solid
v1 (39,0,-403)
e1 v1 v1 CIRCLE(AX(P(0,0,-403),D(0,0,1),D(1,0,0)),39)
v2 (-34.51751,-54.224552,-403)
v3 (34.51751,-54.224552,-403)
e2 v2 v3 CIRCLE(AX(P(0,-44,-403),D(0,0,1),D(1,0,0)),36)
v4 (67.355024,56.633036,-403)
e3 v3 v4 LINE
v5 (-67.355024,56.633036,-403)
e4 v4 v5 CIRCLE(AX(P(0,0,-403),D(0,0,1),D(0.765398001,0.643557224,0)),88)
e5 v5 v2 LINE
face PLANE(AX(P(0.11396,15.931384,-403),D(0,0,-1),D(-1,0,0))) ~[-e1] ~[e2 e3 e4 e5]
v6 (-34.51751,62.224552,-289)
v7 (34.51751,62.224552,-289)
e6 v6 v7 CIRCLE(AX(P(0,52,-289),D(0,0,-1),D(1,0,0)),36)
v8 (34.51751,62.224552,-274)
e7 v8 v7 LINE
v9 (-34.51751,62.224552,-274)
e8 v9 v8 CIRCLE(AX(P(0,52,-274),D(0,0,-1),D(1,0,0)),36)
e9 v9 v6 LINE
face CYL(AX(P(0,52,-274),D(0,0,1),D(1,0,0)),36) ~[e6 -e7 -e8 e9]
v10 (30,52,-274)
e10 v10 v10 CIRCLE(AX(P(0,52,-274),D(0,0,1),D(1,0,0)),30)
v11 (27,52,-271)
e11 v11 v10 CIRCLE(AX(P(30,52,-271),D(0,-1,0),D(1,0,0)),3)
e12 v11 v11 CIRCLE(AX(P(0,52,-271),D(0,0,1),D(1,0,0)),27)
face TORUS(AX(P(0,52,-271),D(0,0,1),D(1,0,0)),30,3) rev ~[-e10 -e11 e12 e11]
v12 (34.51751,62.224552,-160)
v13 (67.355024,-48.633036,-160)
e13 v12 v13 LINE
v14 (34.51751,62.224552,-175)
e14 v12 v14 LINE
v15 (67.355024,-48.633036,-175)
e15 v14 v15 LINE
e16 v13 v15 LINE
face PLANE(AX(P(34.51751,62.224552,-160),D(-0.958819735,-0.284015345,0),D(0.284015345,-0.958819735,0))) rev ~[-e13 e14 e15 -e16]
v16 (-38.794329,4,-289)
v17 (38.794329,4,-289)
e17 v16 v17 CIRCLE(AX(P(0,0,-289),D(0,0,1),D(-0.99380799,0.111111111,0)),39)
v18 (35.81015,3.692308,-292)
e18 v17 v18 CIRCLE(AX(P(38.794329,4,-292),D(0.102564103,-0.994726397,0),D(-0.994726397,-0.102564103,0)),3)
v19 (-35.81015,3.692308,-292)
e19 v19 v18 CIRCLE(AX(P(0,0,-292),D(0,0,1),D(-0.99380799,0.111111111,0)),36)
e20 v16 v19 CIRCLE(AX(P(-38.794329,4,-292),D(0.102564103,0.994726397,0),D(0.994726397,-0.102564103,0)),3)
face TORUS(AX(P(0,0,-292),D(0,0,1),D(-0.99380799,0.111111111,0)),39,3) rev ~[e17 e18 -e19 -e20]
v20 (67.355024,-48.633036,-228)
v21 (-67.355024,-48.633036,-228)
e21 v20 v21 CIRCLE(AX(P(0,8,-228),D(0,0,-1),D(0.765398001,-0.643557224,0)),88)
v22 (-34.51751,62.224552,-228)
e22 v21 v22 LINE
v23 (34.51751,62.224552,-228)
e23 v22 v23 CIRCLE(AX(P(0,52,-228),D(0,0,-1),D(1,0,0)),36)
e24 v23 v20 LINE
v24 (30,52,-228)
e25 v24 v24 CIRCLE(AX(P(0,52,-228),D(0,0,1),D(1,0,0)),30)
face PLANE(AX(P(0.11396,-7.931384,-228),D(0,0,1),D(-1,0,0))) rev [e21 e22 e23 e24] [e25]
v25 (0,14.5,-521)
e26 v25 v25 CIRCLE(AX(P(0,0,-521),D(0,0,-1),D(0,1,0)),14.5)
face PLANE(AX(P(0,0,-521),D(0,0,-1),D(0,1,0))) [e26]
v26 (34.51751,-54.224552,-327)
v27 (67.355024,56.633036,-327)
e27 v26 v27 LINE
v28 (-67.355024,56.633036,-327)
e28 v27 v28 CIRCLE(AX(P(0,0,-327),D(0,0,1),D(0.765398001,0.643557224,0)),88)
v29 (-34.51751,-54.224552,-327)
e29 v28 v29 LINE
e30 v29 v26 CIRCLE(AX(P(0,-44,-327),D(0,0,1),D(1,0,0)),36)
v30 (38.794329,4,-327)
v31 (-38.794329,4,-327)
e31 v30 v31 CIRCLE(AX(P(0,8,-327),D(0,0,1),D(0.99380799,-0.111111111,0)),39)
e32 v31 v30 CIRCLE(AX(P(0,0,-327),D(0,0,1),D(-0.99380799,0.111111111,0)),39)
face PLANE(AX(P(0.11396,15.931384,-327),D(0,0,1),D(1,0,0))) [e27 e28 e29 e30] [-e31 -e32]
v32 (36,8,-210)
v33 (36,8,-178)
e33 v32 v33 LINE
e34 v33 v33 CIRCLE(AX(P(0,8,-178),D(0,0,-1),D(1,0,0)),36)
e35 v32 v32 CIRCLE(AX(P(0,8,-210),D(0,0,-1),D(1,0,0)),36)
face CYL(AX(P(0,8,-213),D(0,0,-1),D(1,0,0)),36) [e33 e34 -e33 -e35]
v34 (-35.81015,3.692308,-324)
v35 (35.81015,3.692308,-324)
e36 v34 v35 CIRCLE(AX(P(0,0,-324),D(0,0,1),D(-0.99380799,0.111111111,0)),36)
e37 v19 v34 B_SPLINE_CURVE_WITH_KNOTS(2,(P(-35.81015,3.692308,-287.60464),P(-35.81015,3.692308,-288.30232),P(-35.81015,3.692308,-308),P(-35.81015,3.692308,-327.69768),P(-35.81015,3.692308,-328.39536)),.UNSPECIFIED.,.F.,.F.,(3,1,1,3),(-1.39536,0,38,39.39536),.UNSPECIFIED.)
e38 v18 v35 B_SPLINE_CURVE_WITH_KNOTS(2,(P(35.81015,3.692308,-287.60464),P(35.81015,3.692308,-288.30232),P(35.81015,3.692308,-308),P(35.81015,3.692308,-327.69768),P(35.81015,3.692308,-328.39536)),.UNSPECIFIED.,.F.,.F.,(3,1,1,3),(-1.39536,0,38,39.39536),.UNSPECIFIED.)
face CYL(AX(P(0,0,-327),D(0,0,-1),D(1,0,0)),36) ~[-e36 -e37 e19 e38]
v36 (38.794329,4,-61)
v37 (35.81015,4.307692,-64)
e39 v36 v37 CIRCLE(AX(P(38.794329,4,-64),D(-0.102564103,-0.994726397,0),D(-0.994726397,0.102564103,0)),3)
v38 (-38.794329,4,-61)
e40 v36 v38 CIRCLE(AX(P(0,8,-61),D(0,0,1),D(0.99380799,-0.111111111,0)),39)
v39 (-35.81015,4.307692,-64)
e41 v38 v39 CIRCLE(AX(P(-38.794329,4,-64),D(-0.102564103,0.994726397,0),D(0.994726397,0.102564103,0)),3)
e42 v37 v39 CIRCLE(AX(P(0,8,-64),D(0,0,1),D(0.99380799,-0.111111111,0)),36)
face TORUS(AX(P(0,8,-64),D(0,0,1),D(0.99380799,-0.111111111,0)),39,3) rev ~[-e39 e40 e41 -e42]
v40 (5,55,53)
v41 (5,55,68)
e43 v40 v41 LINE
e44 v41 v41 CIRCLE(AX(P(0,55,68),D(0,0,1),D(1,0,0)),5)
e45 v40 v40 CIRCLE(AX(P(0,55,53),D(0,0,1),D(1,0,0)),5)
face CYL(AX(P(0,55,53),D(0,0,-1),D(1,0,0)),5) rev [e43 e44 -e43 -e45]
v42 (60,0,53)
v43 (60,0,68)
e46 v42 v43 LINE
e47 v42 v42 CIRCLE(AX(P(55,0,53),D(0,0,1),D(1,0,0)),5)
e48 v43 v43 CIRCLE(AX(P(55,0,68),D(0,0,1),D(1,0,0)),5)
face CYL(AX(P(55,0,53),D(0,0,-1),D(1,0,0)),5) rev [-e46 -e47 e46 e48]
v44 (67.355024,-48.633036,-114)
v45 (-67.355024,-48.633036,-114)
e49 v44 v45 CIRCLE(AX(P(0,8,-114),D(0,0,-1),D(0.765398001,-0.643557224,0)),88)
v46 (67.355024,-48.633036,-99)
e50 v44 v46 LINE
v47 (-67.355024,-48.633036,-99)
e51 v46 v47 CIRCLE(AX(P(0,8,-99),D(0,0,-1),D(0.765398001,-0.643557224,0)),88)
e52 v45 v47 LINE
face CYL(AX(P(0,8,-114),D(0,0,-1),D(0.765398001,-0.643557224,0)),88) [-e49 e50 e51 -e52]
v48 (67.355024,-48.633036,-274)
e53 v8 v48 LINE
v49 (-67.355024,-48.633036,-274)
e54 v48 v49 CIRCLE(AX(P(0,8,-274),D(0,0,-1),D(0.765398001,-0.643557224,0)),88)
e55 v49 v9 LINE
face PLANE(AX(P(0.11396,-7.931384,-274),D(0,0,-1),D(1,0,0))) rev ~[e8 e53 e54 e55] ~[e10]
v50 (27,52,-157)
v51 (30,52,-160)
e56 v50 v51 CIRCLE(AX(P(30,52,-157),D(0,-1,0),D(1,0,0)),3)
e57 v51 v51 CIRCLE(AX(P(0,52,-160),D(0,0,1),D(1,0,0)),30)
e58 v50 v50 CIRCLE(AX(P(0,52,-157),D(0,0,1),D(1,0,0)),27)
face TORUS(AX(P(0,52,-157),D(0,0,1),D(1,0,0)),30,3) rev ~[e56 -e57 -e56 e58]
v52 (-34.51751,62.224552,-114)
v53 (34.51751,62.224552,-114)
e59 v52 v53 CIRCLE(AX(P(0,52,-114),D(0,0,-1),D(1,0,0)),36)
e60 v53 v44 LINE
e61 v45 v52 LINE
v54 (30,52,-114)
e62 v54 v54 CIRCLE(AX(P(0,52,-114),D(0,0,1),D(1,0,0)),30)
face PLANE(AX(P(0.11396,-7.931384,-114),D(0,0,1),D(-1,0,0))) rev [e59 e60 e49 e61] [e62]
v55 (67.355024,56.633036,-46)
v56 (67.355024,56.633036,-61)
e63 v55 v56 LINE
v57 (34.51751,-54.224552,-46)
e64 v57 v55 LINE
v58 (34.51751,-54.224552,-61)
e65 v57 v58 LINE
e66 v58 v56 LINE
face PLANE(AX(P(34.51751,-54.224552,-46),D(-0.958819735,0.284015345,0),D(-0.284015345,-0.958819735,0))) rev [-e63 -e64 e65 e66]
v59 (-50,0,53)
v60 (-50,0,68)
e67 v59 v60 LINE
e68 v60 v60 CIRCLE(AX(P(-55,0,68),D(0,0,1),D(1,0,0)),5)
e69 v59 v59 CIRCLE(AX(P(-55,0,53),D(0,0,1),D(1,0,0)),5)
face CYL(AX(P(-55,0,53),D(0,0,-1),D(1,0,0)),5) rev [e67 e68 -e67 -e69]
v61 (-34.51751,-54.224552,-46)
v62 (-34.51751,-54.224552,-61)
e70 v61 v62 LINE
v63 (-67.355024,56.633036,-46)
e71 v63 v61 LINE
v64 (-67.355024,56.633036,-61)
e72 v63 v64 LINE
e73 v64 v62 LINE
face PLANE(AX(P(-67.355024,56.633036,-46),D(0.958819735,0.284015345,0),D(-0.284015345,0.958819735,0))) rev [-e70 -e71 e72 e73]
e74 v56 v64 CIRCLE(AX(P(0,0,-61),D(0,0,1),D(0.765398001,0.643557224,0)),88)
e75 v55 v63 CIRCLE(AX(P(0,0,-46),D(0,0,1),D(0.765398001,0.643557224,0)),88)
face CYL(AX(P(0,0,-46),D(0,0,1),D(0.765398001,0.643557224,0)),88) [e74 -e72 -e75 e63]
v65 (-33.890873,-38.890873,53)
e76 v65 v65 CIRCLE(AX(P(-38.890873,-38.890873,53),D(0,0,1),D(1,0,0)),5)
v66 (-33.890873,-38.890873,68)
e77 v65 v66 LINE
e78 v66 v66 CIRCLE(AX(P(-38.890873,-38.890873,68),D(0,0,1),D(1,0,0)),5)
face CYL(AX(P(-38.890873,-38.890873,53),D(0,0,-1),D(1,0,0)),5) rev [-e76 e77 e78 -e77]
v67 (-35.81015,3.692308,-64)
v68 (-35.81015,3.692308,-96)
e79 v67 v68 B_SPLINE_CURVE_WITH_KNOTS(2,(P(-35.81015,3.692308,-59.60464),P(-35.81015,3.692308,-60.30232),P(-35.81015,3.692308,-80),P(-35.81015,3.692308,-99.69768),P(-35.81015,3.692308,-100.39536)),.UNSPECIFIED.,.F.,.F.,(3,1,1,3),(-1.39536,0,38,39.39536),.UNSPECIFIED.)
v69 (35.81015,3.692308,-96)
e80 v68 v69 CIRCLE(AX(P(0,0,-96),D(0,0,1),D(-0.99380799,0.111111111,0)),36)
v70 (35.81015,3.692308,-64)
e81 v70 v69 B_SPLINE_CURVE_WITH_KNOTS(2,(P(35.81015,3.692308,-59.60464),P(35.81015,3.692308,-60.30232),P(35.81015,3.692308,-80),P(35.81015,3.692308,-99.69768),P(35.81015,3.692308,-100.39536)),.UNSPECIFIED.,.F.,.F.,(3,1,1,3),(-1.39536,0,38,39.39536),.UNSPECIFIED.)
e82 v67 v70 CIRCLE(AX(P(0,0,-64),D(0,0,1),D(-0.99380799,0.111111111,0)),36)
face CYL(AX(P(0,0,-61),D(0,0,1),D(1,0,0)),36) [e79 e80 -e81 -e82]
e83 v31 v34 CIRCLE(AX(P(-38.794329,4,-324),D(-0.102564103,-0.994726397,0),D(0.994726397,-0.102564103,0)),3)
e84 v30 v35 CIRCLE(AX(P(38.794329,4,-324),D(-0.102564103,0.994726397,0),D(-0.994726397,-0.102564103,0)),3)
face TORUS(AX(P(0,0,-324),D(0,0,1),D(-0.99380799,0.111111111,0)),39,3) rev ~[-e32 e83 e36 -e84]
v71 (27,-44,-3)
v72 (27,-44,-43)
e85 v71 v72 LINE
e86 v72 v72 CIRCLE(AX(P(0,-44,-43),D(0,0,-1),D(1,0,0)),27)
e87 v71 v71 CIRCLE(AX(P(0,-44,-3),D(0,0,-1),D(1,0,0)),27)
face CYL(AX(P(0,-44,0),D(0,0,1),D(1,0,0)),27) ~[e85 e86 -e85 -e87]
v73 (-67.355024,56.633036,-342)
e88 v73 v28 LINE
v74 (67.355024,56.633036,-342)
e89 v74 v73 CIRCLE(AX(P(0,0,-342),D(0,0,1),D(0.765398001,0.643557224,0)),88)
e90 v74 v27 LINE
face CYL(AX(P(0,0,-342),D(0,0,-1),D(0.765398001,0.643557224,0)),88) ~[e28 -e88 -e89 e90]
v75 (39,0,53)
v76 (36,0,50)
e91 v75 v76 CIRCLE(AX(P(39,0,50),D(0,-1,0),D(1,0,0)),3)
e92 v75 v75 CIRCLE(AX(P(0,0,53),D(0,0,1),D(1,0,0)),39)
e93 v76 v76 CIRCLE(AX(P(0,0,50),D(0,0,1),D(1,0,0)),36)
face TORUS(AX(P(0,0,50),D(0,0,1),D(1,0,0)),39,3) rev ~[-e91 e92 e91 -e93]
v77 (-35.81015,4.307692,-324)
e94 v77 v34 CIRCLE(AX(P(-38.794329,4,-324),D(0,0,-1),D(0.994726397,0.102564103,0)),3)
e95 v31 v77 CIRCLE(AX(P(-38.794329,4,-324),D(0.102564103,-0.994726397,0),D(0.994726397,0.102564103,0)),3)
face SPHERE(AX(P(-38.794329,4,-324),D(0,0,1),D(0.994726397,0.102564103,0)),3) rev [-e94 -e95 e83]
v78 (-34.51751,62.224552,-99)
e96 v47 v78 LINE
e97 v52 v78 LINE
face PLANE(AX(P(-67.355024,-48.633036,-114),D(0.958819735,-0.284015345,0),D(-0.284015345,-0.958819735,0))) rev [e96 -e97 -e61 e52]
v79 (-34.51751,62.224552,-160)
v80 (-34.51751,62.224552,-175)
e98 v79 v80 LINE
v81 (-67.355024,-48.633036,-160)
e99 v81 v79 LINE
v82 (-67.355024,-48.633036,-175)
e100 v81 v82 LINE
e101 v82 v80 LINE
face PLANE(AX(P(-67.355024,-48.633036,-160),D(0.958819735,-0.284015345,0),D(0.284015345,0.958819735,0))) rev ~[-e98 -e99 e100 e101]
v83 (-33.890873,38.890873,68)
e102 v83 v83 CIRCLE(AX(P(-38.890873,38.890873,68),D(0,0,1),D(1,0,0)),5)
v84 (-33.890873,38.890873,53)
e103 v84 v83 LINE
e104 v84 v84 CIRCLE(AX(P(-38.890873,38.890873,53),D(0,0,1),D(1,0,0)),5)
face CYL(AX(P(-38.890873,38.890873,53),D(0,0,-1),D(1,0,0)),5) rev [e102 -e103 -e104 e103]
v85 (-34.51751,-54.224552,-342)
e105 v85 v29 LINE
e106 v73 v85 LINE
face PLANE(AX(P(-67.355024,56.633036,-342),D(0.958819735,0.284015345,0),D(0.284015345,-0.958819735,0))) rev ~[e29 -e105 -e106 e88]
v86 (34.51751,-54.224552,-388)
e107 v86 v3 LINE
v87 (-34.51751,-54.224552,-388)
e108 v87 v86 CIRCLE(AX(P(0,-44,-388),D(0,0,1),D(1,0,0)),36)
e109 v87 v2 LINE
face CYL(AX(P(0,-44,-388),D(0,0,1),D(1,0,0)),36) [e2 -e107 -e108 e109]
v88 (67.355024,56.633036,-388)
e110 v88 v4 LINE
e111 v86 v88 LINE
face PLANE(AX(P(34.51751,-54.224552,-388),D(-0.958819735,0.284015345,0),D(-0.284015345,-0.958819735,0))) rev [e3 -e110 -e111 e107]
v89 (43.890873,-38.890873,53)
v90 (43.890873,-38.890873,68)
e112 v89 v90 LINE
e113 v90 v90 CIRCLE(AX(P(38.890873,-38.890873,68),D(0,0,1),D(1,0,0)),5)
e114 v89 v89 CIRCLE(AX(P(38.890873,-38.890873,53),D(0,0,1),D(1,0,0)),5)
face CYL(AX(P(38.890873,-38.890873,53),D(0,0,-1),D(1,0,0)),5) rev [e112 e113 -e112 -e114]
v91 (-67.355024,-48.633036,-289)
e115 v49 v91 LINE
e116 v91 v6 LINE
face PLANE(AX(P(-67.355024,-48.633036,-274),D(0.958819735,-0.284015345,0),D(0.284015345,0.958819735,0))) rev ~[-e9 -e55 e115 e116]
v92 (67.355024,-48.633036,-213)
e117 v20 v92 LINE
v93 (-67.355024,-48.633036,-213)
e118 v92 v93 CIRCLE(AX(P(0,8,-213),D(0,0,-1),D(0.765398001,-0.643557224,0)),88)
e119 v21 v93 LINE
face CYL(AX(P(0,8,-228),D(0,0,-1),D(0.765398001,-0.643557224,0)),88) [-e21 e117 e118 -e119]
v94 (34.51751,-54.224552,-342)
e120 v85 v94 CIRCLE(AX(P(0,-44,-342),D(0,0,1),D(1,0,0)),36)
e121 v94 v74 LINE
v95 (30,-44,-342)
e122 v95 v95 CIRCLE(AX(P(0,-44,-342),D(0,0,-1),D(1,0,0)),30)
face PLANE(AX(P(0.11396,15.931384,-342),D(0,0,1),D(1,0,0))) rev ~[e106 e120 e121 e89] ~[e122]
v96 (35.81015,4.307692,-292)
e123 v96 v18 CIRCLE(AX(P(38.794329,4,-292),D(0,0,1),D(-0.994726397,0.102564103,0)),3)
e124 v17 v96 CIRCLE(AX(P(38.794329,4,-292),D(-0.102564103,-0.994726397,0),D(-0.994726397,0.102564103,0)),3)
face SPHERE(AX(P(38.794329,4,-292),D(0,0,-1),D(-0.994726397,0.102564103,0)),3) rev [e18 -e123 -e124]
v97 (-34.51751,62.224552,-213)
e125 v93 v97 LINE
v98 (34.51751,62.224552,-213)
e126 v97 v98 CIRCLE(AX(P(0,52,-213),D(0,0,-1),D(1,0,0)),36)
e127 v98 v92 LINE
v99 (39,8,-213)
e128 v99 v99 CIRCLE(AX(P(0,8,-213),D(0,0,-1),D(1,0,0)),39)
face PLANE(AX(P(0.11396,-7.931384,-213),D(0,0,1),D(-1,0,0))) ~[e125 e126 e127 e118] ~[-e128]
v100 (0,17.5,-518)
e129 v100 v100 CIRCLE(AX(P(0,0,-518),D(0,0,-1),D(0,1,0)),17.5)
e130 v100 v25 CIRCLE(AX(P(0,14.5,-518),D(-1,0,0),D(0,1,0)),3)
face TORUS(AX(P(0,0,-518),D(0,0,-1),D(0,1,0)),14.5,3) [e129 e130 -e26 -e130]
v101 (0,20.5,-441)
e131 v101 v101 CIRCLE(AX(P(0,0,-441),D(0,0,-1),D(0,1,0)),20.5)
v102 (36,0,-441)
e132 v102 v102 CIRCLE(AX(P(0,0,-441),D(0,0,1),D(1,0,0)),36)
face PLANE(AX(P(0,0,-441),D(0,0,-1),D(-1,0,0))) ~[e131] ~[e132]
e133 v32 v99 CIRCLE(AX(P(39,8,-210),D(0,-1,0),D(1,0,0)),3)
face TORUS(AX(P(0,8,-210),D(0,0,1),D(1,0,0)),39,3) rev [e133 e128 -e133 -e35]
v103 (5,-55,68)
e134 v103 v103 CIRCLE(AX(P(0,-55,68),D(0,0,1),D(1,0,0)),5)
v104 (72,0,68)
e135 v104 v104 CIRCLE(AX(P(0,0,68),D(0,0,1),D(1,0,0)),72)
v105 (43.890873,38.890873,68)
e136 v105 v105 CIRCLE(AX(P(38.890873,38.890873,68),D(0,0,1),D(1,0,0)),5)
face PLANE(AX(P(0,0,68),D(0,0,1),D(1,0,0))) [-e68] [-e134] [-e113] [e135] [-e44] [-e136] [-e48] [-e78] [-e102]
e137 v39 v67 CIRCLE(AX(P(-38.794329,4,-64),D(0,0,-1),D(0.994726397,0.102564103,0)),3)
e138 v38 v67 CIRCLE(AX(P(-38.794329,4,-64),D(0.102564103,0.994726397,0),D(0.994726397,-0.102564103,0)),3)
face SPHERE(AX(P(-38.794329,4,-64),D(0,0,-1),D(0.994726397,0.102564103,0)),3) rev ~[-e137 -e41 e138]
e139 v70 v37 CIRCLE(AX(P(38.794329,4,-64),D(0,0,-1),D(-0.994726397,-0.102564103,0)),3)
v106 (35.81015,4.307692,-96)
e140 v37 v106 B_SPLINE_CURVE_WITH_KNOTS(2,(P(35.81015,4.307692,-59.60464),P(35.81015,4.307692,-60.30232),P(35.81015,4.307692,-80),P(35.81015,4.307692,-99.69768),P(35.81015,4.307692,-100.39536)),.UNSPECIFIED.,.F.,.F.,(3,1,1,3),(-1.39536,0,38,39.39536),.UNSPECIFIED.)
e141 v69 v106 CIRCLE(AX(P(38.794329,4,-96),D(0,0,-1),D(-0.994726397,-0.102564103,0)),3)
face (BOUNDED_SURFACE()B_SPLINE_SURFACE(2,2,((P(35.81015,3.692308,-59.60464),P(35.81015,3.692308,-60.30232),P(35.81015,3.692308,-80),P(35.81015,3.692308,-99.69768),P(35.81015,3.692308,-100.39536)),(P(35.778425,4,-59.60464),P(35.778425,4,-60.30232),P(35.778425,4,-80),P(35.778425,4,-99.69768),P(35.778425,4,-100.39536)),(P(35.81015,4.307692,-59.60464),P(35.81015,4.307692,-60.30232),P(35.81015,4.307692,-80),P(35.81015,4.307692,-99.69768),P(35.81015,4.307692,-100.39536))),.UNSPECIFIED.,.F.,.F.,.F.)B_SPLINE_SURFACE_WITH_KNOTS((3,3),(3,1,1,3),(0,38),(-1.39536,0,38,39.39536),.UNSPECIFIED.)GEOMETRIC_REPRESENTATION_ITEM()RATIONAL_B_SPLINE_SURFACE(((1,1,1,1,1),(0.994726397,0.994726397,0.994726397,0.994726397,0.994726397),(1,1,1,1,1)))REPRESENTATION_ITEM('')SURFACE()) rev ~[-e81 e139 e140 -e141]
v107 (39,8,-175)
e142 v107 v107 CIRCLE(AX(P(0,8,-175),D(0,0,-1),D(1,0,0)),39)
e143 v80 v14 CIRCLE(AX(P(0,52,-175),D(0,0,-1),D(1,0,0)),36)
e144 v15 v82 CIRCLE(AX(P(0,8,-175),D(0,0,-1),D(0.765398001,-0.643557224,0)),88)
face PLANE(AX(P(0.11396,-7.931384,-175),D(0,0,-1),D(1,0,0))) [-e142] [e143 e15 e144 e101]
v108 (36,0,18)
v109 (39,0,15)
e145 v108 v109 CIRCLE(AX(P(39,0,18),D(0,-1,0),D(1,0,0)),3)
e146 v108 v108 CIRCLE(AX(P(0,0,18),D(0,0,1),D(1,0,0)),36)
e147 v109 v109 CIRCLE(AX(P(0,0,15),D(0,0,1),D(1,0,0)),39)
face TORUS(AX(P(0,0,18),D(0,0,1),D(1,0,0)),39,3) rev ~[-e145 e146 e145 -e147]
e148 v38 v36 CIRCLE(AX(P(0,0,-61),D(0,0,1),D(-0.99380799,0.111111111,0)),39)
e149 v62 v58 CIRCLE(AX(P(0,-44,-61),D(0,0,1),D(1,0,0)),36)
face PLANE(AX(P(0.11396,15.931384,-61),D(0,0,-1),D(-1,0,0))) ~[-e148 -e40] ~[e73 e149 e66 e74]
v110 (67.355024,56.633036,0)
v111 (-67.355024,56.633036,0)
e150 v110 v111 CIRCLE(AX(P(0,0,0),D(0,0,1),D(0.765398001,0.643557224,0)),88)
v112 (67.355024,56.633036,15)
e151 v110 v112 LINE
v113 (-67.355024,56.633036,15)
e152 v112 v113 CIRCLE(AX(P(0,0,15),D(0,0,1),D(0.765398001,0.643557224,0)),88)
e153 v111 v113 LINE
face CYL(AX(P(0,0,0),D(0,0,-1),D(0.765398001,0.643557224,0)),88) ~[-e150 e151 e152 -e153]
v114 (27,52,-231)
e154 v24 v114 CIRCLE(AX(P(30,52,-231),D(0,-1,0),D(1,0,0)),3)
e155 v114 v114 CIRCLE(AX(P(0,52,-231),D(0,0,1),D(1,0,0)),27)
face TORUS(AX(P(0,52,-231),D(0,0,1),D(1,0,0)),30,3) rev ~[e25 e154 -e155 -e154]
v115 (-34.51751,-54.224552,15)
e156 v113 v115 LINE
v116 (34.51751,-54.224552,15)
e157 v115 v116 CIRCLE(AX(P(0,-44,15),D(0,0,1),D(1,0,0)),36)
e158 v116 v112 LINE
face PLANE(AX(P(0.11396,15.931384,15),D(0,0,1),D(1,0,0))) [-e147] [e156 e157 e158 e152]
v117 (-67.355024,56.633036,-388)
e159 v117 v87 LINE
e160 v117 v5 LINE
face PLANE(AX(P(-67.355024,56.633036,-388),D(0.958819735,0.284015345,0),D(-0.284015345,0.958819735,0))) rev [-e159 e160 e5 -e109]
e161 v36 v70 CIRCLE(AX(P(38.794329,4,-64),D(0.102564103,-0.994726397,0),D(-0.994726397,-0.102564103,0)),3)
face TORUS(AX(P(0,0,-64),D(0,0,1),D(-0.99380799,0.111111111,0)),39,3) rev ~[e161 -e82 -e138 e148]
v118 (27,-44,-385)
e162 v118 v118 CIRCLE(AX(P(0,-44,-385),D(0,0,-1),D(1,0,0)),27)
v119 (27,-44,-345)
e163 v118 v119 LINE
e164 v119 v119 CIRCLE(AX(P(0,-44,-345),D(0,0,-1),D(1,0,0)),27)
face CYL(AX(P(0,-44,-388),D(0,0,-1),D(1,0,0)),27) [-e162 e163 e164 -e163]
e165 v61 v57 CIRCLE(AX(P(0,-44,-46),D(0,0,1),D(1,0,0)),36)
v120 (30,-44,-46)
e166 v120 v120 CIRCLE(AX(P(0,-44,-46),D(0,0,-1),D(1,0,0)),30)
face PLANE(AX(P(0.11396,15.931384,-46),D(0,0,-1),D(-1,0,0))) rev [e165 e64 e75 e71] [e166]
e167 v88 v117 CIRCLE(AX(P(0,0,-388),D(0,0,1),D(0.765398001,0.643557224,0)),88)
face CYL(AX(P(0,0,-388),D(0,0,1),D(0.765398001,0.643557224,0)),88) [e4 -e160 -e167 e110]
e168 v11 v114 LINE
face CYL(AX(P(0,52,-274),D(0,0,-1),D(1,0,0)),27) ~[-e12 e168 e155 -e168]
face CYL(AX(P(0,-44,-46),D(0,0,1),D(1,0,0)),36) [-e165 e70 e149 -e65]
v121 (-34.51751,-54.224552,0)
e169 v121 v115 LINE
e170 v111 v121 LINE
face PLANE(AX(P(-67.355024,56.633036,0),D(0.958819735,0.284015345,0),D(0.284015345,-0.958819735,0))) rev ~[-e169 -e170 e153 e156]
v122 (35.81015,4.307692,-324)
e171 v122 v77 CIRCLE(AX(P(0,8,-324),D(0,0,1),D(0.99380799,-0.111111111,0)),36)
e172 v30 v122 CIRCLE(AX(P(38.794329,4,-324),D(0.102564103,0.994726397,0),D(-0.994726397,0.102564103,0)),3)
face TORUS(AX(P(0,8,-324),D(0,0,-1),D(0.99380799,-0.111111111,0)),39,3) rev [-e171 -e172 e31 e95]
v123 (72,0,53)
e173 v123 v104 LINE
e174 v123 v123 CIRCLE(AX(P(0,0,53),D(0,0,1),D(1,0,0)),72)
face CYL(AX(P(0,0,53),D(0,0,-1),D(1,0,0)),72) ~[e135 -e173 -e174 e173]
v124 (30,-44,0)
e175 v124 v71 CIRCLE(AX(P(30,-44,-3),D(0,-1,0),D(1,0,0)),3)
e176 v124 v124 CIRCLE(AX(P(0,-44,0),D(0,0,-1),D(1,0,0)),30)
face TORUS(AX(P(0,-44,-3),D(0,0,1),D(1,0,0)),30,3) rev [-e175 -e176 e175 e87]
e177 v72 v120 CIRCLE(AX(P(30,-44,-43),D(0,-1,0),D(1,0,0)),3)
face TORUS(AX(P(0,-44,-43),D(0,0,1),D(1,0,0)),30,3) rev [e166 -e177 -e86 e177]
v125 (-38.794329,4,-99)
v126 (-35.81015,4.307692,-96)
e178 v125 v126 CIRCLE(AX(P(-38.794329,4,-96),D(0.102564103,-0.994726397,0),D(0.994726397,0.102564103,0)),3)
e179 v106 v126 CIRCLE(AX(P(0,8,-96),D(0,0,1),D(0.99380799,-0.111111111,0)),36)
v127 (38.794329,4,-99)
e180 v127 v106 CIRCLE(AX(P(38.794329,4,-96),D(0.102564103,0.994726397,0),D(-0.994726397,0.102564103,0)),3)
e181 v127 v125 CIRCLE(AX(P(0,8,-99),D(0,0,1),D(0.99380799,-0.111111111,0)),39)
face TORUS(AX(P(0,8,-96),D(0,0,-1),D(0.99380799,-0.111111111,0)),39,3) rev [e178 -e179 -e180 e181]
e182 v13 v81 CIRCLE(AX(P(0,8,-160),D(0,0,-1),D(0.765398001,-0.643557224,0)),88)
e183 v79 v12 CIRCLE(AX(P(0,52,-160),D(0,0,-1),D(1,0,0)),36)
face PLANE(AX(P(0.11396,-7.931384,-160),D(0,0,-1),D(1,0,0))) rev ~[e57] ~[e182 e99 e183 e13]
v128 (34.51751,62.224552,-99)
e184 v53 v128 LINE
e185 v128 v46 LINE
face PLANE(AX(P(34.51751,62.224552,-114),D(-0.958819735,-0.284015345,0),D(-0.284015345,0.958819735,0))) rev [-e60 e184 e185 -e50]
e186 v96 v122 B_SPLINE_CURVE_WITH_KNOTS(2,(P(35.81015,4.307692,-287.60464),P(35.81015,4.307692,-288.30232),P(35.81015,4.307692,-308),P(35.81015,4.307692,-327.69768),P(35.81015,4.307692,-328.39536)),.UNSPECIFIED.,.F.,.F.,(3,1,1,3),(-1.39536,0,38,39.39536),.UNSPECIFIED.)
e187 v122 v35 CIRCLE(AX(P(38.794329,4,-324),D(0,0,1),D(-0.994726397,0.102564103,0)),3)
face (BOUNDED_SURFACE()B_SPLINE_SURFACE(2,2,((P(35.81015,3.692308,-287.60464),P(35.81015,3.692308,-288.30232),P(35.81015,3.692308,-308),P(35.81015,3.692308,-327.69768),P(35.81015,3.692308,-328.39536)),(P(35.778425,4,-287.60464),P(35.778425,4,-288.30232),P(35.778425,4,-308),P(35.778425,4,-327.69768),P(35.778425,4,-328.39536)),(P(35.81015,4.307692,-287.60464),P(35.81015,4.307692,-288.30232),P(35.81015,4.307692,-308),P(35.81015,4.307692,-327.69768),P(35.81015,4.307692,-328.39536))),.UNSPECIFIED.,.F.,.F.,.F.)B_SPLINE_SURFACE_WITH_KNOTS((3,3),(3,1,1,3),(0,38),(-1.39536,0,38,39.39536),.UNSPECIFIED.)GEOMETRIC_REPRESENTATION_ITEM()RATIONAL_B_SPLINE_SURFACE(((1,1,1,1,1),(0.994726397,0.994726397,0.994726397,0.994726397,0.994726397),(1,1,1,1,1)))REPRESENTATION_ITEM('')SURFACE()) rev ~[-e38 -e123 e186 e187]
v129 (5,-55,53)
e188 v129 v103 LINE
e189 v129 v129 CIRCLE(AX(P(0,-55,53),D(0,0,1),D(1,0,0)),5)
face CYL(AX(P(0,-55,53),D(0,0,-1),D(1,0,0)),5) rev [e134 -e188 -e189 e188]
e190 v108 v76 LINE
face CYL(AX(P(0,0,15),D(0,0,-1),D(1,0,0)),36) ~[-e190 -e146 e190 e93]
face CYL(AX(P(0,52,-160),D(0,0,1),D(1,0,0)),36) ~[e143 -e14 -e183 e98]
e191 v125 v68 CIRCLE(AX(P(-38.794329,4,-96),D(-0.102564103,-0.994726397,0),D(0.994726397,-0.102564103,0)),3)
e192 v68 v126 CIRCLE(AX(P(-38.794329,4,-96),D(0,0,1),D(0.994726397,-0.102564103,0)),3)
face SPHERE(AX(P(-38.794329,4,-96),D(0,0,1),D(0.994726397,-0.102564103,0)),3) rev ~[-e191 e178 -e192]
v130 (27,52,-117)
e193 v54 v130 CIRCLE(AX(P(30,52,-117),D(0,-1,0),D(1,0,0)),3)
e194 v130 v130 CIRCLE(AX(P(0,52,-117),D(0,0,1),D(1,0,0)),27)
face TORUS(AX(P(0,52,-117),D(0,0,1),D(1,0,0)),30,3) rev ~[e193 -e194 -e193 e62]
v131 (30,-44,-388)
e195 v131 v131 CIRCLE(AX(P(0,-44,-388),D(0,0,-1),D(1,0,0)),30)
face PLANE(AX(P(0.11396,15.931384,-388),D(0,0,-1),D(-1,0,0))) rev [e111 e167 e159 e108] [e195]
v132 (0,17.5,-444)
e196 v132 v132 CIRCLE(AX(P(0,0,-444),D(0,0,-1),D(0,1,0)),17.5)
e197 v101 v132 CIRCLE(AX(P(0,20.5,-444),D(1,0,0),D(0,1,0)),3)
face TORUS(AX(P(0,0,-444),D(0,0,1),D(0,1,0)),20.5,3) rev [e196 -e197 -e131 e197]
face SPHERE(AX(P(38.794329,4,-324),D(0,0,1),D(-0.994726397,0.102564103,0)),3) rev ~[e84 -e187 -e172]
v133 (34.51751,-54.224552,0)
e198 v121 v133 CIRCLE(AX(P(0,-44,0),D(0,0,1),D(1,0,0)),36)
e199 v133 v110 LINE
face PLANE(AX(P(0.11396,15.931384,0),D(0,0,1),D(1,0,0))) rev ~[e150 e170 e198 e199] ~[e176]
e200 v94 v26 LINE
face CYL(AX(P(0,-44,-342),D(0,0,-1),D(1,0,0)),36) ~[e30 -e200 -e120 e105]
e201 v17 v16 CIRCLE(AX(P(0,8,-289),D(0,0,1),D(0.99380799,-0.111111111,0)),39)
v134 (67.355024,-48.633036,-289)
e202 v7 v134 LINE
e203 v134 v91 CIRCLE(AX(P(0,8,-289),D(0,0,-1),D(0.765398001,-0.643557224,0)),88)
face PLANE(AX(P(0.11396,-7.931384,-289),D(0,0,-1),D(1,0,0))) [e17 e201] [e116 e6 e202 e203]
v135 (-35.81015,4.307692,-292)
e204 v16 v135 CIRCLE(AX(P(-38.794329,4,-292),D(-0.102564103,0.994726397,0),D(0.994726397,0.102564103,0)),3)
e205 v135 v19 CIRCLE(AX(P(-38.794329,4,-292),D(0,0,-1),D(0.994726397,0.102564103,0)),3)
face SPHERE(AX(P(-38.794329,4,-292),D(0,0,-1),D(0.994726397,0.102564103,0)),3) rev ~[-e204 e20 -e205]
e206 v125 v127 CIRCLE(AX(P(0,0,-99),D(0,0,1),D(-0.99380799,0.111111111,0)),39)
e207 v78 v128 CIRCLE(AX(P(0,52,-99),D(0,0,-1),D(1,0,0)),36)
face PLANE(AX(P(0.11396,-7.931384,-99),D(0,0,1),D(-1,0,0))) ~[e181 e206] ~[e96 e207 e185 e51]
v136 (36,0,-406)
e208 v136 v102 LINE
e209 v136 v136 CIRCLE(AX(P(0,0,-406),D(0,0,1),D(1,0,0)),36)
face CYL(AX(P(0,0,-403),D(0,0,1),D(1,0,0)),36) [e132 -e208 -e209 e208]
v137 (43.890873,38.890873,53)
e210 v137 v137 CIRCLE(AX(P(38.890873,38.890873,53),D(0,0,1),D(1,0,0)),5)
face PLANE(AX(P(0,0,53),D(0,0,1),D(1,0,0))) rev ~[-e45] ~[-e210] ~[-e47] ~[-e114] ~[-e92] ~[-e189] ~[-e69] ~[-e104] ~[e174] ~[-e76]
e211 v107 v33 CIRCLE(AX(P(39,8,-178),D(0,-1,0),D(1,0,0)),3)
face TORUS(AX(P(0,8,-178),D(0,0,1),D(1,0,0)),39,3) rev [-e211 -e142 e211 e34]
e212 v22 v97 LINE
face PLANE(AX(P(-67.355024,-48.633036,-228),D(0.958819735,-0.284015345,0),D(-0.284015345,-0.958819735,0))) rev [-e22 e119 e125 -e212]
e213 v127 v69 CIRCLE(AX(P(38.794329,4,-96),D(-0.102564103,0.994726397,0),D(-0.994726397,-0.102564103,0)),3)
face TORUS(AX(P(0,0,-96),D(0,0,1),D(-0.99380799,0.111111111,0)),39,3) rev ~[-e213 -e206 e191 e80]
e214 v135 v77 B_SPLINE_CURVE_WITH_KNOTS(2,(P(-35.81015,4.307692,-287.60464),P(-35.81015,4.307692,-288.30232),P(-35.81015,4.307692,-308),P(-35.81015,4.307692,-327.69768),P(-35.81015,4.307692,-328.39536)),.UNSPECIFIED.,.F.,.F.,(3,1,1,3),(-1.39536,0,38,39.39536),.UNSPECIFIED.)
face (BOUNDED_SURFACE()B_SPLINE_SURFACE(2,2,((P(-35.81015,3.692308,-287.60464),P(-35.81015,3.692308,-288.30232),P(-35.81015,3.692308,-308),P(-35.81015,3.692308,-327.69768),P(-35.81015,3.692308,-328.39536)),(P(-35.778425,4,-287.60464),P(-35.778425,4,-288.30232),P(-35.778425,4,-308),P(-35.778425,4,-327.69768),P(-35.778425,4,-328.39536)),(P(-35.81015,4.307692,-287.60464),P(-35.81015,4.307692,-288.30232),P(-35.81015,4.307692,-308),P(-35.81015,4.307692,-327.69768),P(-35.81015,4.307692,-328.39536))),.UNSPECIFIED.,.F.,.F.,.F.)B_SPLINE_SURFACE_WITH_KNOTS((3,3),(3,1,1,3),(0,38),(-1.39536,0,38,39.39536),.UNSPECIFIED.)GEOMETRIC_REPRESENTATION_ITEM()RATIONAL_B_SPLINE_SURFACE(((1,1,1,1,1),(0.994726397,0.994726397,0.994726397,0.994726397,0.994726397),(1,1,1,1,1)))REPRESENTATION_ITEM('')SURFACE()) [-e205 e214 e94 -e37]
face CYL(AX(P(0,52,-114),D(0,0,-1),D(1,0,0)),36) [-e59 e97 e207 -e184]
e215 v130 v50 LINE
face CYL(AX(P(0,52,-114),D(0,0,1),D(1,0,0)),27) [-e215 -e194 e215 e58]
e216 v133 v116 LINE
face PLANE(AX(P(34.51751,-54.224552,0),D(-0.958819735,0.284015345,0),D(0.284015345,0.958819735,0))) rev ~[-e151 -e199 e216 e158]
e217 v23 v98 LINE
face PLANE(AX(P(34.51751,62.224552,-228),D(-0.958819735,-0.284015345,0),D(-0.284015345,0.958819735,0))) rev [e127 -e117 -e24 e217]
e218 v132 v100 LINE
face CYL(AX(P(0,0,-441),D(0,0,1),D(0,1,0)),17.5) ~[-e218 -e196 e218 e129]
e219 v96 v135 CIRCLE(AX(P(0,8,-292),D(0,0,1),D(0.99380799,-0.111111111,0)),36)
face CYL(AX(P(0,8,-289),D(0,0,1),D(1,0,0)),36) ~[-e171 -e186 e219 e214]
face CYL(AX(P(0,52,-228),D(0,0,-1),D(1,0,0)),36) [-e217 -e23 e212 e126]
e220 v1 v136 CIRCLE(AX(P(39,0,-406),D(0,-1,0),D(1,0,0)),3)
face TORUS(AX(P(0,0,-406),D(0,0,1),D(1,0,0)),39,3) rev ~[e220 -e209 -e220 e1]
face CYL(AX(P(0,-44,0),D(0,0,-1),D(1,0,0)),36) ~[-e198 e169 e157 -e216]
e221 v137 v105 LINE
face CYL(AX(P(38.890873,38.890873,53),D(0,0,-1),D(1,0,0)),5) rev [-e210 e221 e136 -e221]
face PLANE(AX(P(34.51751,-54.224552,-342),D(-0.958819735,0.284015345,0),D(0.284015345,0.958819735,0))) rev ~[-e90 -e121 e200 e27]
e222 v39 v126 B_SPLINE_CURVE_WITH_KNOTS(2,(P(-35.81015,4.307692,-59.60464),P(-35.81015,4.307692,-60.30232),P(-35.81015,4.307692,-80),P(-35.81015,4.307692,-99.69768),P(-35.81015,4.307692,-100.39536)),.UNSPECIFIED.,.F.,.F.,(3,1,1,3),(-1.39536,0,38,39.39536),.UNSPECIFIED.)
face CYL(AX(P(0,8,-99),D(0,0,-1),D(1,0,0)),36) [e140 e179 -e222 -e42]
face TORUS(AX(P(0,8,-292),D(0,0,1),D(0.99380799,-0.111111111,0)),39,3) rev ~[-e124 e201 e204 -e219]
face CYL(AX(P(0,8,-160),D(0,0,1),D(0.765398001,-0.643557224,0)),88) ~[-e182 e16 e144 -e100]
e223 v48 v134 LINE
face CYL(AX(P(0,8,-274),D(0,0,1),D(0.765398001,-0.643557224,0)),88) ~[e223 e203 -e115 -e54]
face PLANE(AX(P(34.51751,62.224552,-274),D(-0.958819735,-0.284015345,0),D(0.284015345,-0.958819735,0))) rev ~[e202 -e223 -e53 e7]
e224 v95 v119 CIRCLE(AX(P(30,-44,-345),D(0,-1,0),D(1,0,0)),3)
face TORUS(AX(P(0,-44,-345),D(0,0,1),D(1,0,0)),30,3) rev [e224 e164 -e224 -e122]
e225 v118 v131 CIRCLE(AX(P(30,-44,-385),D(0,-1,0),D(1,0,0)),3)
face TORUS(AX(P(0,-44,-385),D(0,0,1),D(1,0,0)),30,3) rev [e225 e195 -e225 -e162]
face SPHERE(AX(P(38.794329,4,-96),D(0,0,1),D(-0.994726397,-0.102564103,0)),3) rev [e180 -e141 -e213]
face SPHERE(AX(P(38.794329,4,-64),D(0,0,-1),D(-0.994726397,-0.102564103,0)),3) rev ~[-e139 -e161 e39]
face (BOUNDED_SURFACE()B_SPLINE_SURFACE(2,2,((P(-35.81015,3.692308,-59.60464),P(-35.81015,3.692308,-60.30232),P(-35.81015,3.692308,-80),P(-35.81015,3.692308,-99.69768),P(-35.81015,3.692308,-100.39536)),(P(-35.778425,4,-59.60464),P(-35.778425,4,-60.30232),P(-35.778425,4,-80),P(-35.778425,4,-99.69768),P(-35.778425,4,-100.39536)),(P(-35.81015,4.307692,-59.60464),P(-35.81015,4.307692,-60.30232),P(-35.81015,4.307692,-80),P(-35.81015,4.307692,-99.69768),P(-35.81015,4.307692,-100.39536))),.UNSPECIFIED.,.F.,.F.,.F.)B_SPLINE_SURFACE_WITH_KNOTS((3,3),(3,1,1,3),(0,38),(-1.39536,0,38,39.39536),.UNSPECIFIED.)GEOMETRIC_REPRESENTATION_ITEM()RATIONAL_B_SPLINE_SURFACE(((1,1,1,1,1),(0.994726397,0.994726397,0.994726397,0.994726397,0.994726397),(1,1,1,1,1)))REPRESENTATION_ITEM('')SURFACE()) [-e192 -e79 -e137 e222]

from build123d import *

# Parameters (mm, degrees)
SKETCH1_R             = 36
BOSS_EXTRUDE1_DEPTH   = 15
SKETCH2_R             = 27
BOSS_EXTRUDE2_DEPTH   = 46
SKETCH3_R             = 36
BOSS_EXTRUDE3_DEPTH   = 38
BODY_MOVE_COPY1_ANGLE = 180
SKETCH4_R             = 17.5
BOSS_EXTRUDE4_DEPTH   = 80
SKETCH5_R             = 72
SKETCH5_R_2           = 5
BOSS_EXTRUDE5_DEPTH   = 15
FILLET1_R             = 3


with BuildPart() as part:
    # Sketch1 → Boss-Extrude1 (new body)
    with BuildSketch(Plane.XY):
        with BuildLine():
            Line((-67.355024071, 56.633035698), (-34.517510455, -54.224552409))
            ThreePointArc((-34.517510455, -54.224552409), (-5.165734392, -8.372550074), (36, -44))
            ThreePointArc((36, -44), (35.627449926, -49.165734392), (34.517510455, -54.224552409))
            Line((34.517510455, -54.224552409), (67.355024071, 56.633035698))
            ThreePointArc((67.355024071, 56.633035698), (0, 88), (-67.355024071, 56.633035698))
        make_face()
        with Locations((0, -44)):
            Circle(SKETCH1_R)
    boss_extrude1 = extrude(amount=BOSS_EXTRUDE1_DEPTH)

    # Sketch2 → Boss-Extrude2 (add)
    with BuildSketch(Plane(origin=(0, 0, 0), x_dir=(-1, 0, 0), z_dir=(0, 0, -1))):
        with Locations(Location((0, -44, 0), (0, 0, 180))):
            Circle(SKETCH2_R)
    extrude(amount=BOSS_EXTRUDE2_DEPTH)

    # Sketch3 → Boss-Extrude3 (add)
    with BuildSketch(Plane.XY.offset(15)):
        Circle(SKETCH3_R)
    boss_extrude3 = extrude(amount=BOSS_EXTRUDE3_DEPTH)

    # Mirror1: Boss-Extrude1, Boss-Extrude3 across plane
    add(boss_extrude1.mirror(Plane(origin=(0, 0, -23), x_dir=(1, 0, 0), z_dir=(0, 0, -1))))
    add(boss_extrude3.mirror(Plane(origin=(0, 0, -23), x_dir=(1, 0, 0), z_dir=(0, 0, -1))))


with BuildPart() as body_2:
    # Mirror12: mirrored copy
    add(part.part.mirror(Plane(origin=(0, 0, -80), x_dir=(1, 0, 0), z_dir=(0, 0, -1))))


with BuildPart() as body_2_1:
    # Body-Move/Copy1: moved
    add(body_2.part.rotate(Axis((0, 4, -137), (1, 0, 0)), BODY_MOVE_COPY1_ANGLE))


with BuildPart() as body_3:
    # Mirror13: mirrored copy
    add(part.part.mirror(Plane(origin=(0, 0, -194), x_dir=(1, 0, 0), z_dir=(0, 0, -1))))

    # Sketch4 → Boss-Extrude4 (add)
    with BuildSketch(Plane(origin=(0, 0, -441), x_dir=(-1, 0, 0), z_dir=(0, 0, -1))):
        with Locations(Location((0, 0, 0), (0, 0, 90))):
            Circle(SKETCH4_R)
    extrude(amount=BOSS_EXTRUDE4_DEPTH)


with BuildPart() as body_4:
    # Mirror13 2: mirrored copy
    add(body_2_1.part.mirror(Plane(origin=(0, 0, -194), x_dir=(1, 0, 0), z_dir=(0, 0, -1))))


with BuildPart() as part_1:
    add(part.part)

    # Sketch5 → Boss-Extrude5 (add)
    with BuildSketch(Plane.XY.offset(53)):
        Circle(SKETCH5_R)
        with Locations((0, 55)):
            Circle(SKETCH5_R_2, mode=Mode.SUBTRACT)
        with Locations((38.890872965, 38.890872965)):
            Circle(SKETCH5_R_2, mode=Mode.SUBTRACT)
        with Locations((55, 0)):
            Circle(SKETCH5_R_2, mode=Mode.SUBTRACT)
        with Locations((38.890872965, -38.890872965)):
            Circle(SKETCH5_R_2, mode=Mode.SUBTRACT)
        with Locations((0, -55)):
            Circle(SKETCH5_R_2, mode=Mode.SUBTRACT)
        with Locations((-38.890872965, -38.890872965)):
            Circle(SKETCH5_R_2, mode=Mode.SUBTRACT)
        with Locations((-55, 0)):
            Circle(SKETCH5_R_2, mode=Mode.SUBTRACT)
        with Locations((-38.890872965, 38.890872965)):
            Circle(SKETCH5_R_2, mode=Mode.SUBTRACT)
    extrude(amount=BOSS_EXTRUDE5_DEPTH)


with BuildPart() as body_3_1:
    add(body_3.part)

    # Combine1: union body 4, body 2, part
    add(body_4.part)
    add(body_2_1.part)
    add(part_1.part)

    # Fillet1
    fillet1_edges = [body_3_1.edges().sort_by_distance(p)[0] for p in [
        (-27, -44, -388),
        (-27, -44, -342),
        (-36, 0, -403),
        (0, -17.5, -441),
        (0, -17.5, -521),
        (0, -36, -289),
        (0, -36, -327),
        (35.77708764, 4, -308),
        (-35.77708764, 4, -308),
        (-27, 52, -274),
        (0, 44, -289),
        (0, 44, -327),
        (-36, 8, -213),
        (-27, 52, -228),
        (-36, 8, -175),
        (0, 44, -99),
        (-27, 52, -114),
        (-27, 52, -160),
        (-35.77708764, 4, -80),
        (0, 44, -61),
        (35.77708764, 4, -80),
        (0, -36, -99),
        (-27, -44, 0),
        (-36, 0, 15),
        (0, -36, -61),
        (-27, -44, -46),
        (-36, 0, 53),
    ]]
    fillet(fillet1_edges, radius=FILLET1_R)


solid = body_3_1.part
